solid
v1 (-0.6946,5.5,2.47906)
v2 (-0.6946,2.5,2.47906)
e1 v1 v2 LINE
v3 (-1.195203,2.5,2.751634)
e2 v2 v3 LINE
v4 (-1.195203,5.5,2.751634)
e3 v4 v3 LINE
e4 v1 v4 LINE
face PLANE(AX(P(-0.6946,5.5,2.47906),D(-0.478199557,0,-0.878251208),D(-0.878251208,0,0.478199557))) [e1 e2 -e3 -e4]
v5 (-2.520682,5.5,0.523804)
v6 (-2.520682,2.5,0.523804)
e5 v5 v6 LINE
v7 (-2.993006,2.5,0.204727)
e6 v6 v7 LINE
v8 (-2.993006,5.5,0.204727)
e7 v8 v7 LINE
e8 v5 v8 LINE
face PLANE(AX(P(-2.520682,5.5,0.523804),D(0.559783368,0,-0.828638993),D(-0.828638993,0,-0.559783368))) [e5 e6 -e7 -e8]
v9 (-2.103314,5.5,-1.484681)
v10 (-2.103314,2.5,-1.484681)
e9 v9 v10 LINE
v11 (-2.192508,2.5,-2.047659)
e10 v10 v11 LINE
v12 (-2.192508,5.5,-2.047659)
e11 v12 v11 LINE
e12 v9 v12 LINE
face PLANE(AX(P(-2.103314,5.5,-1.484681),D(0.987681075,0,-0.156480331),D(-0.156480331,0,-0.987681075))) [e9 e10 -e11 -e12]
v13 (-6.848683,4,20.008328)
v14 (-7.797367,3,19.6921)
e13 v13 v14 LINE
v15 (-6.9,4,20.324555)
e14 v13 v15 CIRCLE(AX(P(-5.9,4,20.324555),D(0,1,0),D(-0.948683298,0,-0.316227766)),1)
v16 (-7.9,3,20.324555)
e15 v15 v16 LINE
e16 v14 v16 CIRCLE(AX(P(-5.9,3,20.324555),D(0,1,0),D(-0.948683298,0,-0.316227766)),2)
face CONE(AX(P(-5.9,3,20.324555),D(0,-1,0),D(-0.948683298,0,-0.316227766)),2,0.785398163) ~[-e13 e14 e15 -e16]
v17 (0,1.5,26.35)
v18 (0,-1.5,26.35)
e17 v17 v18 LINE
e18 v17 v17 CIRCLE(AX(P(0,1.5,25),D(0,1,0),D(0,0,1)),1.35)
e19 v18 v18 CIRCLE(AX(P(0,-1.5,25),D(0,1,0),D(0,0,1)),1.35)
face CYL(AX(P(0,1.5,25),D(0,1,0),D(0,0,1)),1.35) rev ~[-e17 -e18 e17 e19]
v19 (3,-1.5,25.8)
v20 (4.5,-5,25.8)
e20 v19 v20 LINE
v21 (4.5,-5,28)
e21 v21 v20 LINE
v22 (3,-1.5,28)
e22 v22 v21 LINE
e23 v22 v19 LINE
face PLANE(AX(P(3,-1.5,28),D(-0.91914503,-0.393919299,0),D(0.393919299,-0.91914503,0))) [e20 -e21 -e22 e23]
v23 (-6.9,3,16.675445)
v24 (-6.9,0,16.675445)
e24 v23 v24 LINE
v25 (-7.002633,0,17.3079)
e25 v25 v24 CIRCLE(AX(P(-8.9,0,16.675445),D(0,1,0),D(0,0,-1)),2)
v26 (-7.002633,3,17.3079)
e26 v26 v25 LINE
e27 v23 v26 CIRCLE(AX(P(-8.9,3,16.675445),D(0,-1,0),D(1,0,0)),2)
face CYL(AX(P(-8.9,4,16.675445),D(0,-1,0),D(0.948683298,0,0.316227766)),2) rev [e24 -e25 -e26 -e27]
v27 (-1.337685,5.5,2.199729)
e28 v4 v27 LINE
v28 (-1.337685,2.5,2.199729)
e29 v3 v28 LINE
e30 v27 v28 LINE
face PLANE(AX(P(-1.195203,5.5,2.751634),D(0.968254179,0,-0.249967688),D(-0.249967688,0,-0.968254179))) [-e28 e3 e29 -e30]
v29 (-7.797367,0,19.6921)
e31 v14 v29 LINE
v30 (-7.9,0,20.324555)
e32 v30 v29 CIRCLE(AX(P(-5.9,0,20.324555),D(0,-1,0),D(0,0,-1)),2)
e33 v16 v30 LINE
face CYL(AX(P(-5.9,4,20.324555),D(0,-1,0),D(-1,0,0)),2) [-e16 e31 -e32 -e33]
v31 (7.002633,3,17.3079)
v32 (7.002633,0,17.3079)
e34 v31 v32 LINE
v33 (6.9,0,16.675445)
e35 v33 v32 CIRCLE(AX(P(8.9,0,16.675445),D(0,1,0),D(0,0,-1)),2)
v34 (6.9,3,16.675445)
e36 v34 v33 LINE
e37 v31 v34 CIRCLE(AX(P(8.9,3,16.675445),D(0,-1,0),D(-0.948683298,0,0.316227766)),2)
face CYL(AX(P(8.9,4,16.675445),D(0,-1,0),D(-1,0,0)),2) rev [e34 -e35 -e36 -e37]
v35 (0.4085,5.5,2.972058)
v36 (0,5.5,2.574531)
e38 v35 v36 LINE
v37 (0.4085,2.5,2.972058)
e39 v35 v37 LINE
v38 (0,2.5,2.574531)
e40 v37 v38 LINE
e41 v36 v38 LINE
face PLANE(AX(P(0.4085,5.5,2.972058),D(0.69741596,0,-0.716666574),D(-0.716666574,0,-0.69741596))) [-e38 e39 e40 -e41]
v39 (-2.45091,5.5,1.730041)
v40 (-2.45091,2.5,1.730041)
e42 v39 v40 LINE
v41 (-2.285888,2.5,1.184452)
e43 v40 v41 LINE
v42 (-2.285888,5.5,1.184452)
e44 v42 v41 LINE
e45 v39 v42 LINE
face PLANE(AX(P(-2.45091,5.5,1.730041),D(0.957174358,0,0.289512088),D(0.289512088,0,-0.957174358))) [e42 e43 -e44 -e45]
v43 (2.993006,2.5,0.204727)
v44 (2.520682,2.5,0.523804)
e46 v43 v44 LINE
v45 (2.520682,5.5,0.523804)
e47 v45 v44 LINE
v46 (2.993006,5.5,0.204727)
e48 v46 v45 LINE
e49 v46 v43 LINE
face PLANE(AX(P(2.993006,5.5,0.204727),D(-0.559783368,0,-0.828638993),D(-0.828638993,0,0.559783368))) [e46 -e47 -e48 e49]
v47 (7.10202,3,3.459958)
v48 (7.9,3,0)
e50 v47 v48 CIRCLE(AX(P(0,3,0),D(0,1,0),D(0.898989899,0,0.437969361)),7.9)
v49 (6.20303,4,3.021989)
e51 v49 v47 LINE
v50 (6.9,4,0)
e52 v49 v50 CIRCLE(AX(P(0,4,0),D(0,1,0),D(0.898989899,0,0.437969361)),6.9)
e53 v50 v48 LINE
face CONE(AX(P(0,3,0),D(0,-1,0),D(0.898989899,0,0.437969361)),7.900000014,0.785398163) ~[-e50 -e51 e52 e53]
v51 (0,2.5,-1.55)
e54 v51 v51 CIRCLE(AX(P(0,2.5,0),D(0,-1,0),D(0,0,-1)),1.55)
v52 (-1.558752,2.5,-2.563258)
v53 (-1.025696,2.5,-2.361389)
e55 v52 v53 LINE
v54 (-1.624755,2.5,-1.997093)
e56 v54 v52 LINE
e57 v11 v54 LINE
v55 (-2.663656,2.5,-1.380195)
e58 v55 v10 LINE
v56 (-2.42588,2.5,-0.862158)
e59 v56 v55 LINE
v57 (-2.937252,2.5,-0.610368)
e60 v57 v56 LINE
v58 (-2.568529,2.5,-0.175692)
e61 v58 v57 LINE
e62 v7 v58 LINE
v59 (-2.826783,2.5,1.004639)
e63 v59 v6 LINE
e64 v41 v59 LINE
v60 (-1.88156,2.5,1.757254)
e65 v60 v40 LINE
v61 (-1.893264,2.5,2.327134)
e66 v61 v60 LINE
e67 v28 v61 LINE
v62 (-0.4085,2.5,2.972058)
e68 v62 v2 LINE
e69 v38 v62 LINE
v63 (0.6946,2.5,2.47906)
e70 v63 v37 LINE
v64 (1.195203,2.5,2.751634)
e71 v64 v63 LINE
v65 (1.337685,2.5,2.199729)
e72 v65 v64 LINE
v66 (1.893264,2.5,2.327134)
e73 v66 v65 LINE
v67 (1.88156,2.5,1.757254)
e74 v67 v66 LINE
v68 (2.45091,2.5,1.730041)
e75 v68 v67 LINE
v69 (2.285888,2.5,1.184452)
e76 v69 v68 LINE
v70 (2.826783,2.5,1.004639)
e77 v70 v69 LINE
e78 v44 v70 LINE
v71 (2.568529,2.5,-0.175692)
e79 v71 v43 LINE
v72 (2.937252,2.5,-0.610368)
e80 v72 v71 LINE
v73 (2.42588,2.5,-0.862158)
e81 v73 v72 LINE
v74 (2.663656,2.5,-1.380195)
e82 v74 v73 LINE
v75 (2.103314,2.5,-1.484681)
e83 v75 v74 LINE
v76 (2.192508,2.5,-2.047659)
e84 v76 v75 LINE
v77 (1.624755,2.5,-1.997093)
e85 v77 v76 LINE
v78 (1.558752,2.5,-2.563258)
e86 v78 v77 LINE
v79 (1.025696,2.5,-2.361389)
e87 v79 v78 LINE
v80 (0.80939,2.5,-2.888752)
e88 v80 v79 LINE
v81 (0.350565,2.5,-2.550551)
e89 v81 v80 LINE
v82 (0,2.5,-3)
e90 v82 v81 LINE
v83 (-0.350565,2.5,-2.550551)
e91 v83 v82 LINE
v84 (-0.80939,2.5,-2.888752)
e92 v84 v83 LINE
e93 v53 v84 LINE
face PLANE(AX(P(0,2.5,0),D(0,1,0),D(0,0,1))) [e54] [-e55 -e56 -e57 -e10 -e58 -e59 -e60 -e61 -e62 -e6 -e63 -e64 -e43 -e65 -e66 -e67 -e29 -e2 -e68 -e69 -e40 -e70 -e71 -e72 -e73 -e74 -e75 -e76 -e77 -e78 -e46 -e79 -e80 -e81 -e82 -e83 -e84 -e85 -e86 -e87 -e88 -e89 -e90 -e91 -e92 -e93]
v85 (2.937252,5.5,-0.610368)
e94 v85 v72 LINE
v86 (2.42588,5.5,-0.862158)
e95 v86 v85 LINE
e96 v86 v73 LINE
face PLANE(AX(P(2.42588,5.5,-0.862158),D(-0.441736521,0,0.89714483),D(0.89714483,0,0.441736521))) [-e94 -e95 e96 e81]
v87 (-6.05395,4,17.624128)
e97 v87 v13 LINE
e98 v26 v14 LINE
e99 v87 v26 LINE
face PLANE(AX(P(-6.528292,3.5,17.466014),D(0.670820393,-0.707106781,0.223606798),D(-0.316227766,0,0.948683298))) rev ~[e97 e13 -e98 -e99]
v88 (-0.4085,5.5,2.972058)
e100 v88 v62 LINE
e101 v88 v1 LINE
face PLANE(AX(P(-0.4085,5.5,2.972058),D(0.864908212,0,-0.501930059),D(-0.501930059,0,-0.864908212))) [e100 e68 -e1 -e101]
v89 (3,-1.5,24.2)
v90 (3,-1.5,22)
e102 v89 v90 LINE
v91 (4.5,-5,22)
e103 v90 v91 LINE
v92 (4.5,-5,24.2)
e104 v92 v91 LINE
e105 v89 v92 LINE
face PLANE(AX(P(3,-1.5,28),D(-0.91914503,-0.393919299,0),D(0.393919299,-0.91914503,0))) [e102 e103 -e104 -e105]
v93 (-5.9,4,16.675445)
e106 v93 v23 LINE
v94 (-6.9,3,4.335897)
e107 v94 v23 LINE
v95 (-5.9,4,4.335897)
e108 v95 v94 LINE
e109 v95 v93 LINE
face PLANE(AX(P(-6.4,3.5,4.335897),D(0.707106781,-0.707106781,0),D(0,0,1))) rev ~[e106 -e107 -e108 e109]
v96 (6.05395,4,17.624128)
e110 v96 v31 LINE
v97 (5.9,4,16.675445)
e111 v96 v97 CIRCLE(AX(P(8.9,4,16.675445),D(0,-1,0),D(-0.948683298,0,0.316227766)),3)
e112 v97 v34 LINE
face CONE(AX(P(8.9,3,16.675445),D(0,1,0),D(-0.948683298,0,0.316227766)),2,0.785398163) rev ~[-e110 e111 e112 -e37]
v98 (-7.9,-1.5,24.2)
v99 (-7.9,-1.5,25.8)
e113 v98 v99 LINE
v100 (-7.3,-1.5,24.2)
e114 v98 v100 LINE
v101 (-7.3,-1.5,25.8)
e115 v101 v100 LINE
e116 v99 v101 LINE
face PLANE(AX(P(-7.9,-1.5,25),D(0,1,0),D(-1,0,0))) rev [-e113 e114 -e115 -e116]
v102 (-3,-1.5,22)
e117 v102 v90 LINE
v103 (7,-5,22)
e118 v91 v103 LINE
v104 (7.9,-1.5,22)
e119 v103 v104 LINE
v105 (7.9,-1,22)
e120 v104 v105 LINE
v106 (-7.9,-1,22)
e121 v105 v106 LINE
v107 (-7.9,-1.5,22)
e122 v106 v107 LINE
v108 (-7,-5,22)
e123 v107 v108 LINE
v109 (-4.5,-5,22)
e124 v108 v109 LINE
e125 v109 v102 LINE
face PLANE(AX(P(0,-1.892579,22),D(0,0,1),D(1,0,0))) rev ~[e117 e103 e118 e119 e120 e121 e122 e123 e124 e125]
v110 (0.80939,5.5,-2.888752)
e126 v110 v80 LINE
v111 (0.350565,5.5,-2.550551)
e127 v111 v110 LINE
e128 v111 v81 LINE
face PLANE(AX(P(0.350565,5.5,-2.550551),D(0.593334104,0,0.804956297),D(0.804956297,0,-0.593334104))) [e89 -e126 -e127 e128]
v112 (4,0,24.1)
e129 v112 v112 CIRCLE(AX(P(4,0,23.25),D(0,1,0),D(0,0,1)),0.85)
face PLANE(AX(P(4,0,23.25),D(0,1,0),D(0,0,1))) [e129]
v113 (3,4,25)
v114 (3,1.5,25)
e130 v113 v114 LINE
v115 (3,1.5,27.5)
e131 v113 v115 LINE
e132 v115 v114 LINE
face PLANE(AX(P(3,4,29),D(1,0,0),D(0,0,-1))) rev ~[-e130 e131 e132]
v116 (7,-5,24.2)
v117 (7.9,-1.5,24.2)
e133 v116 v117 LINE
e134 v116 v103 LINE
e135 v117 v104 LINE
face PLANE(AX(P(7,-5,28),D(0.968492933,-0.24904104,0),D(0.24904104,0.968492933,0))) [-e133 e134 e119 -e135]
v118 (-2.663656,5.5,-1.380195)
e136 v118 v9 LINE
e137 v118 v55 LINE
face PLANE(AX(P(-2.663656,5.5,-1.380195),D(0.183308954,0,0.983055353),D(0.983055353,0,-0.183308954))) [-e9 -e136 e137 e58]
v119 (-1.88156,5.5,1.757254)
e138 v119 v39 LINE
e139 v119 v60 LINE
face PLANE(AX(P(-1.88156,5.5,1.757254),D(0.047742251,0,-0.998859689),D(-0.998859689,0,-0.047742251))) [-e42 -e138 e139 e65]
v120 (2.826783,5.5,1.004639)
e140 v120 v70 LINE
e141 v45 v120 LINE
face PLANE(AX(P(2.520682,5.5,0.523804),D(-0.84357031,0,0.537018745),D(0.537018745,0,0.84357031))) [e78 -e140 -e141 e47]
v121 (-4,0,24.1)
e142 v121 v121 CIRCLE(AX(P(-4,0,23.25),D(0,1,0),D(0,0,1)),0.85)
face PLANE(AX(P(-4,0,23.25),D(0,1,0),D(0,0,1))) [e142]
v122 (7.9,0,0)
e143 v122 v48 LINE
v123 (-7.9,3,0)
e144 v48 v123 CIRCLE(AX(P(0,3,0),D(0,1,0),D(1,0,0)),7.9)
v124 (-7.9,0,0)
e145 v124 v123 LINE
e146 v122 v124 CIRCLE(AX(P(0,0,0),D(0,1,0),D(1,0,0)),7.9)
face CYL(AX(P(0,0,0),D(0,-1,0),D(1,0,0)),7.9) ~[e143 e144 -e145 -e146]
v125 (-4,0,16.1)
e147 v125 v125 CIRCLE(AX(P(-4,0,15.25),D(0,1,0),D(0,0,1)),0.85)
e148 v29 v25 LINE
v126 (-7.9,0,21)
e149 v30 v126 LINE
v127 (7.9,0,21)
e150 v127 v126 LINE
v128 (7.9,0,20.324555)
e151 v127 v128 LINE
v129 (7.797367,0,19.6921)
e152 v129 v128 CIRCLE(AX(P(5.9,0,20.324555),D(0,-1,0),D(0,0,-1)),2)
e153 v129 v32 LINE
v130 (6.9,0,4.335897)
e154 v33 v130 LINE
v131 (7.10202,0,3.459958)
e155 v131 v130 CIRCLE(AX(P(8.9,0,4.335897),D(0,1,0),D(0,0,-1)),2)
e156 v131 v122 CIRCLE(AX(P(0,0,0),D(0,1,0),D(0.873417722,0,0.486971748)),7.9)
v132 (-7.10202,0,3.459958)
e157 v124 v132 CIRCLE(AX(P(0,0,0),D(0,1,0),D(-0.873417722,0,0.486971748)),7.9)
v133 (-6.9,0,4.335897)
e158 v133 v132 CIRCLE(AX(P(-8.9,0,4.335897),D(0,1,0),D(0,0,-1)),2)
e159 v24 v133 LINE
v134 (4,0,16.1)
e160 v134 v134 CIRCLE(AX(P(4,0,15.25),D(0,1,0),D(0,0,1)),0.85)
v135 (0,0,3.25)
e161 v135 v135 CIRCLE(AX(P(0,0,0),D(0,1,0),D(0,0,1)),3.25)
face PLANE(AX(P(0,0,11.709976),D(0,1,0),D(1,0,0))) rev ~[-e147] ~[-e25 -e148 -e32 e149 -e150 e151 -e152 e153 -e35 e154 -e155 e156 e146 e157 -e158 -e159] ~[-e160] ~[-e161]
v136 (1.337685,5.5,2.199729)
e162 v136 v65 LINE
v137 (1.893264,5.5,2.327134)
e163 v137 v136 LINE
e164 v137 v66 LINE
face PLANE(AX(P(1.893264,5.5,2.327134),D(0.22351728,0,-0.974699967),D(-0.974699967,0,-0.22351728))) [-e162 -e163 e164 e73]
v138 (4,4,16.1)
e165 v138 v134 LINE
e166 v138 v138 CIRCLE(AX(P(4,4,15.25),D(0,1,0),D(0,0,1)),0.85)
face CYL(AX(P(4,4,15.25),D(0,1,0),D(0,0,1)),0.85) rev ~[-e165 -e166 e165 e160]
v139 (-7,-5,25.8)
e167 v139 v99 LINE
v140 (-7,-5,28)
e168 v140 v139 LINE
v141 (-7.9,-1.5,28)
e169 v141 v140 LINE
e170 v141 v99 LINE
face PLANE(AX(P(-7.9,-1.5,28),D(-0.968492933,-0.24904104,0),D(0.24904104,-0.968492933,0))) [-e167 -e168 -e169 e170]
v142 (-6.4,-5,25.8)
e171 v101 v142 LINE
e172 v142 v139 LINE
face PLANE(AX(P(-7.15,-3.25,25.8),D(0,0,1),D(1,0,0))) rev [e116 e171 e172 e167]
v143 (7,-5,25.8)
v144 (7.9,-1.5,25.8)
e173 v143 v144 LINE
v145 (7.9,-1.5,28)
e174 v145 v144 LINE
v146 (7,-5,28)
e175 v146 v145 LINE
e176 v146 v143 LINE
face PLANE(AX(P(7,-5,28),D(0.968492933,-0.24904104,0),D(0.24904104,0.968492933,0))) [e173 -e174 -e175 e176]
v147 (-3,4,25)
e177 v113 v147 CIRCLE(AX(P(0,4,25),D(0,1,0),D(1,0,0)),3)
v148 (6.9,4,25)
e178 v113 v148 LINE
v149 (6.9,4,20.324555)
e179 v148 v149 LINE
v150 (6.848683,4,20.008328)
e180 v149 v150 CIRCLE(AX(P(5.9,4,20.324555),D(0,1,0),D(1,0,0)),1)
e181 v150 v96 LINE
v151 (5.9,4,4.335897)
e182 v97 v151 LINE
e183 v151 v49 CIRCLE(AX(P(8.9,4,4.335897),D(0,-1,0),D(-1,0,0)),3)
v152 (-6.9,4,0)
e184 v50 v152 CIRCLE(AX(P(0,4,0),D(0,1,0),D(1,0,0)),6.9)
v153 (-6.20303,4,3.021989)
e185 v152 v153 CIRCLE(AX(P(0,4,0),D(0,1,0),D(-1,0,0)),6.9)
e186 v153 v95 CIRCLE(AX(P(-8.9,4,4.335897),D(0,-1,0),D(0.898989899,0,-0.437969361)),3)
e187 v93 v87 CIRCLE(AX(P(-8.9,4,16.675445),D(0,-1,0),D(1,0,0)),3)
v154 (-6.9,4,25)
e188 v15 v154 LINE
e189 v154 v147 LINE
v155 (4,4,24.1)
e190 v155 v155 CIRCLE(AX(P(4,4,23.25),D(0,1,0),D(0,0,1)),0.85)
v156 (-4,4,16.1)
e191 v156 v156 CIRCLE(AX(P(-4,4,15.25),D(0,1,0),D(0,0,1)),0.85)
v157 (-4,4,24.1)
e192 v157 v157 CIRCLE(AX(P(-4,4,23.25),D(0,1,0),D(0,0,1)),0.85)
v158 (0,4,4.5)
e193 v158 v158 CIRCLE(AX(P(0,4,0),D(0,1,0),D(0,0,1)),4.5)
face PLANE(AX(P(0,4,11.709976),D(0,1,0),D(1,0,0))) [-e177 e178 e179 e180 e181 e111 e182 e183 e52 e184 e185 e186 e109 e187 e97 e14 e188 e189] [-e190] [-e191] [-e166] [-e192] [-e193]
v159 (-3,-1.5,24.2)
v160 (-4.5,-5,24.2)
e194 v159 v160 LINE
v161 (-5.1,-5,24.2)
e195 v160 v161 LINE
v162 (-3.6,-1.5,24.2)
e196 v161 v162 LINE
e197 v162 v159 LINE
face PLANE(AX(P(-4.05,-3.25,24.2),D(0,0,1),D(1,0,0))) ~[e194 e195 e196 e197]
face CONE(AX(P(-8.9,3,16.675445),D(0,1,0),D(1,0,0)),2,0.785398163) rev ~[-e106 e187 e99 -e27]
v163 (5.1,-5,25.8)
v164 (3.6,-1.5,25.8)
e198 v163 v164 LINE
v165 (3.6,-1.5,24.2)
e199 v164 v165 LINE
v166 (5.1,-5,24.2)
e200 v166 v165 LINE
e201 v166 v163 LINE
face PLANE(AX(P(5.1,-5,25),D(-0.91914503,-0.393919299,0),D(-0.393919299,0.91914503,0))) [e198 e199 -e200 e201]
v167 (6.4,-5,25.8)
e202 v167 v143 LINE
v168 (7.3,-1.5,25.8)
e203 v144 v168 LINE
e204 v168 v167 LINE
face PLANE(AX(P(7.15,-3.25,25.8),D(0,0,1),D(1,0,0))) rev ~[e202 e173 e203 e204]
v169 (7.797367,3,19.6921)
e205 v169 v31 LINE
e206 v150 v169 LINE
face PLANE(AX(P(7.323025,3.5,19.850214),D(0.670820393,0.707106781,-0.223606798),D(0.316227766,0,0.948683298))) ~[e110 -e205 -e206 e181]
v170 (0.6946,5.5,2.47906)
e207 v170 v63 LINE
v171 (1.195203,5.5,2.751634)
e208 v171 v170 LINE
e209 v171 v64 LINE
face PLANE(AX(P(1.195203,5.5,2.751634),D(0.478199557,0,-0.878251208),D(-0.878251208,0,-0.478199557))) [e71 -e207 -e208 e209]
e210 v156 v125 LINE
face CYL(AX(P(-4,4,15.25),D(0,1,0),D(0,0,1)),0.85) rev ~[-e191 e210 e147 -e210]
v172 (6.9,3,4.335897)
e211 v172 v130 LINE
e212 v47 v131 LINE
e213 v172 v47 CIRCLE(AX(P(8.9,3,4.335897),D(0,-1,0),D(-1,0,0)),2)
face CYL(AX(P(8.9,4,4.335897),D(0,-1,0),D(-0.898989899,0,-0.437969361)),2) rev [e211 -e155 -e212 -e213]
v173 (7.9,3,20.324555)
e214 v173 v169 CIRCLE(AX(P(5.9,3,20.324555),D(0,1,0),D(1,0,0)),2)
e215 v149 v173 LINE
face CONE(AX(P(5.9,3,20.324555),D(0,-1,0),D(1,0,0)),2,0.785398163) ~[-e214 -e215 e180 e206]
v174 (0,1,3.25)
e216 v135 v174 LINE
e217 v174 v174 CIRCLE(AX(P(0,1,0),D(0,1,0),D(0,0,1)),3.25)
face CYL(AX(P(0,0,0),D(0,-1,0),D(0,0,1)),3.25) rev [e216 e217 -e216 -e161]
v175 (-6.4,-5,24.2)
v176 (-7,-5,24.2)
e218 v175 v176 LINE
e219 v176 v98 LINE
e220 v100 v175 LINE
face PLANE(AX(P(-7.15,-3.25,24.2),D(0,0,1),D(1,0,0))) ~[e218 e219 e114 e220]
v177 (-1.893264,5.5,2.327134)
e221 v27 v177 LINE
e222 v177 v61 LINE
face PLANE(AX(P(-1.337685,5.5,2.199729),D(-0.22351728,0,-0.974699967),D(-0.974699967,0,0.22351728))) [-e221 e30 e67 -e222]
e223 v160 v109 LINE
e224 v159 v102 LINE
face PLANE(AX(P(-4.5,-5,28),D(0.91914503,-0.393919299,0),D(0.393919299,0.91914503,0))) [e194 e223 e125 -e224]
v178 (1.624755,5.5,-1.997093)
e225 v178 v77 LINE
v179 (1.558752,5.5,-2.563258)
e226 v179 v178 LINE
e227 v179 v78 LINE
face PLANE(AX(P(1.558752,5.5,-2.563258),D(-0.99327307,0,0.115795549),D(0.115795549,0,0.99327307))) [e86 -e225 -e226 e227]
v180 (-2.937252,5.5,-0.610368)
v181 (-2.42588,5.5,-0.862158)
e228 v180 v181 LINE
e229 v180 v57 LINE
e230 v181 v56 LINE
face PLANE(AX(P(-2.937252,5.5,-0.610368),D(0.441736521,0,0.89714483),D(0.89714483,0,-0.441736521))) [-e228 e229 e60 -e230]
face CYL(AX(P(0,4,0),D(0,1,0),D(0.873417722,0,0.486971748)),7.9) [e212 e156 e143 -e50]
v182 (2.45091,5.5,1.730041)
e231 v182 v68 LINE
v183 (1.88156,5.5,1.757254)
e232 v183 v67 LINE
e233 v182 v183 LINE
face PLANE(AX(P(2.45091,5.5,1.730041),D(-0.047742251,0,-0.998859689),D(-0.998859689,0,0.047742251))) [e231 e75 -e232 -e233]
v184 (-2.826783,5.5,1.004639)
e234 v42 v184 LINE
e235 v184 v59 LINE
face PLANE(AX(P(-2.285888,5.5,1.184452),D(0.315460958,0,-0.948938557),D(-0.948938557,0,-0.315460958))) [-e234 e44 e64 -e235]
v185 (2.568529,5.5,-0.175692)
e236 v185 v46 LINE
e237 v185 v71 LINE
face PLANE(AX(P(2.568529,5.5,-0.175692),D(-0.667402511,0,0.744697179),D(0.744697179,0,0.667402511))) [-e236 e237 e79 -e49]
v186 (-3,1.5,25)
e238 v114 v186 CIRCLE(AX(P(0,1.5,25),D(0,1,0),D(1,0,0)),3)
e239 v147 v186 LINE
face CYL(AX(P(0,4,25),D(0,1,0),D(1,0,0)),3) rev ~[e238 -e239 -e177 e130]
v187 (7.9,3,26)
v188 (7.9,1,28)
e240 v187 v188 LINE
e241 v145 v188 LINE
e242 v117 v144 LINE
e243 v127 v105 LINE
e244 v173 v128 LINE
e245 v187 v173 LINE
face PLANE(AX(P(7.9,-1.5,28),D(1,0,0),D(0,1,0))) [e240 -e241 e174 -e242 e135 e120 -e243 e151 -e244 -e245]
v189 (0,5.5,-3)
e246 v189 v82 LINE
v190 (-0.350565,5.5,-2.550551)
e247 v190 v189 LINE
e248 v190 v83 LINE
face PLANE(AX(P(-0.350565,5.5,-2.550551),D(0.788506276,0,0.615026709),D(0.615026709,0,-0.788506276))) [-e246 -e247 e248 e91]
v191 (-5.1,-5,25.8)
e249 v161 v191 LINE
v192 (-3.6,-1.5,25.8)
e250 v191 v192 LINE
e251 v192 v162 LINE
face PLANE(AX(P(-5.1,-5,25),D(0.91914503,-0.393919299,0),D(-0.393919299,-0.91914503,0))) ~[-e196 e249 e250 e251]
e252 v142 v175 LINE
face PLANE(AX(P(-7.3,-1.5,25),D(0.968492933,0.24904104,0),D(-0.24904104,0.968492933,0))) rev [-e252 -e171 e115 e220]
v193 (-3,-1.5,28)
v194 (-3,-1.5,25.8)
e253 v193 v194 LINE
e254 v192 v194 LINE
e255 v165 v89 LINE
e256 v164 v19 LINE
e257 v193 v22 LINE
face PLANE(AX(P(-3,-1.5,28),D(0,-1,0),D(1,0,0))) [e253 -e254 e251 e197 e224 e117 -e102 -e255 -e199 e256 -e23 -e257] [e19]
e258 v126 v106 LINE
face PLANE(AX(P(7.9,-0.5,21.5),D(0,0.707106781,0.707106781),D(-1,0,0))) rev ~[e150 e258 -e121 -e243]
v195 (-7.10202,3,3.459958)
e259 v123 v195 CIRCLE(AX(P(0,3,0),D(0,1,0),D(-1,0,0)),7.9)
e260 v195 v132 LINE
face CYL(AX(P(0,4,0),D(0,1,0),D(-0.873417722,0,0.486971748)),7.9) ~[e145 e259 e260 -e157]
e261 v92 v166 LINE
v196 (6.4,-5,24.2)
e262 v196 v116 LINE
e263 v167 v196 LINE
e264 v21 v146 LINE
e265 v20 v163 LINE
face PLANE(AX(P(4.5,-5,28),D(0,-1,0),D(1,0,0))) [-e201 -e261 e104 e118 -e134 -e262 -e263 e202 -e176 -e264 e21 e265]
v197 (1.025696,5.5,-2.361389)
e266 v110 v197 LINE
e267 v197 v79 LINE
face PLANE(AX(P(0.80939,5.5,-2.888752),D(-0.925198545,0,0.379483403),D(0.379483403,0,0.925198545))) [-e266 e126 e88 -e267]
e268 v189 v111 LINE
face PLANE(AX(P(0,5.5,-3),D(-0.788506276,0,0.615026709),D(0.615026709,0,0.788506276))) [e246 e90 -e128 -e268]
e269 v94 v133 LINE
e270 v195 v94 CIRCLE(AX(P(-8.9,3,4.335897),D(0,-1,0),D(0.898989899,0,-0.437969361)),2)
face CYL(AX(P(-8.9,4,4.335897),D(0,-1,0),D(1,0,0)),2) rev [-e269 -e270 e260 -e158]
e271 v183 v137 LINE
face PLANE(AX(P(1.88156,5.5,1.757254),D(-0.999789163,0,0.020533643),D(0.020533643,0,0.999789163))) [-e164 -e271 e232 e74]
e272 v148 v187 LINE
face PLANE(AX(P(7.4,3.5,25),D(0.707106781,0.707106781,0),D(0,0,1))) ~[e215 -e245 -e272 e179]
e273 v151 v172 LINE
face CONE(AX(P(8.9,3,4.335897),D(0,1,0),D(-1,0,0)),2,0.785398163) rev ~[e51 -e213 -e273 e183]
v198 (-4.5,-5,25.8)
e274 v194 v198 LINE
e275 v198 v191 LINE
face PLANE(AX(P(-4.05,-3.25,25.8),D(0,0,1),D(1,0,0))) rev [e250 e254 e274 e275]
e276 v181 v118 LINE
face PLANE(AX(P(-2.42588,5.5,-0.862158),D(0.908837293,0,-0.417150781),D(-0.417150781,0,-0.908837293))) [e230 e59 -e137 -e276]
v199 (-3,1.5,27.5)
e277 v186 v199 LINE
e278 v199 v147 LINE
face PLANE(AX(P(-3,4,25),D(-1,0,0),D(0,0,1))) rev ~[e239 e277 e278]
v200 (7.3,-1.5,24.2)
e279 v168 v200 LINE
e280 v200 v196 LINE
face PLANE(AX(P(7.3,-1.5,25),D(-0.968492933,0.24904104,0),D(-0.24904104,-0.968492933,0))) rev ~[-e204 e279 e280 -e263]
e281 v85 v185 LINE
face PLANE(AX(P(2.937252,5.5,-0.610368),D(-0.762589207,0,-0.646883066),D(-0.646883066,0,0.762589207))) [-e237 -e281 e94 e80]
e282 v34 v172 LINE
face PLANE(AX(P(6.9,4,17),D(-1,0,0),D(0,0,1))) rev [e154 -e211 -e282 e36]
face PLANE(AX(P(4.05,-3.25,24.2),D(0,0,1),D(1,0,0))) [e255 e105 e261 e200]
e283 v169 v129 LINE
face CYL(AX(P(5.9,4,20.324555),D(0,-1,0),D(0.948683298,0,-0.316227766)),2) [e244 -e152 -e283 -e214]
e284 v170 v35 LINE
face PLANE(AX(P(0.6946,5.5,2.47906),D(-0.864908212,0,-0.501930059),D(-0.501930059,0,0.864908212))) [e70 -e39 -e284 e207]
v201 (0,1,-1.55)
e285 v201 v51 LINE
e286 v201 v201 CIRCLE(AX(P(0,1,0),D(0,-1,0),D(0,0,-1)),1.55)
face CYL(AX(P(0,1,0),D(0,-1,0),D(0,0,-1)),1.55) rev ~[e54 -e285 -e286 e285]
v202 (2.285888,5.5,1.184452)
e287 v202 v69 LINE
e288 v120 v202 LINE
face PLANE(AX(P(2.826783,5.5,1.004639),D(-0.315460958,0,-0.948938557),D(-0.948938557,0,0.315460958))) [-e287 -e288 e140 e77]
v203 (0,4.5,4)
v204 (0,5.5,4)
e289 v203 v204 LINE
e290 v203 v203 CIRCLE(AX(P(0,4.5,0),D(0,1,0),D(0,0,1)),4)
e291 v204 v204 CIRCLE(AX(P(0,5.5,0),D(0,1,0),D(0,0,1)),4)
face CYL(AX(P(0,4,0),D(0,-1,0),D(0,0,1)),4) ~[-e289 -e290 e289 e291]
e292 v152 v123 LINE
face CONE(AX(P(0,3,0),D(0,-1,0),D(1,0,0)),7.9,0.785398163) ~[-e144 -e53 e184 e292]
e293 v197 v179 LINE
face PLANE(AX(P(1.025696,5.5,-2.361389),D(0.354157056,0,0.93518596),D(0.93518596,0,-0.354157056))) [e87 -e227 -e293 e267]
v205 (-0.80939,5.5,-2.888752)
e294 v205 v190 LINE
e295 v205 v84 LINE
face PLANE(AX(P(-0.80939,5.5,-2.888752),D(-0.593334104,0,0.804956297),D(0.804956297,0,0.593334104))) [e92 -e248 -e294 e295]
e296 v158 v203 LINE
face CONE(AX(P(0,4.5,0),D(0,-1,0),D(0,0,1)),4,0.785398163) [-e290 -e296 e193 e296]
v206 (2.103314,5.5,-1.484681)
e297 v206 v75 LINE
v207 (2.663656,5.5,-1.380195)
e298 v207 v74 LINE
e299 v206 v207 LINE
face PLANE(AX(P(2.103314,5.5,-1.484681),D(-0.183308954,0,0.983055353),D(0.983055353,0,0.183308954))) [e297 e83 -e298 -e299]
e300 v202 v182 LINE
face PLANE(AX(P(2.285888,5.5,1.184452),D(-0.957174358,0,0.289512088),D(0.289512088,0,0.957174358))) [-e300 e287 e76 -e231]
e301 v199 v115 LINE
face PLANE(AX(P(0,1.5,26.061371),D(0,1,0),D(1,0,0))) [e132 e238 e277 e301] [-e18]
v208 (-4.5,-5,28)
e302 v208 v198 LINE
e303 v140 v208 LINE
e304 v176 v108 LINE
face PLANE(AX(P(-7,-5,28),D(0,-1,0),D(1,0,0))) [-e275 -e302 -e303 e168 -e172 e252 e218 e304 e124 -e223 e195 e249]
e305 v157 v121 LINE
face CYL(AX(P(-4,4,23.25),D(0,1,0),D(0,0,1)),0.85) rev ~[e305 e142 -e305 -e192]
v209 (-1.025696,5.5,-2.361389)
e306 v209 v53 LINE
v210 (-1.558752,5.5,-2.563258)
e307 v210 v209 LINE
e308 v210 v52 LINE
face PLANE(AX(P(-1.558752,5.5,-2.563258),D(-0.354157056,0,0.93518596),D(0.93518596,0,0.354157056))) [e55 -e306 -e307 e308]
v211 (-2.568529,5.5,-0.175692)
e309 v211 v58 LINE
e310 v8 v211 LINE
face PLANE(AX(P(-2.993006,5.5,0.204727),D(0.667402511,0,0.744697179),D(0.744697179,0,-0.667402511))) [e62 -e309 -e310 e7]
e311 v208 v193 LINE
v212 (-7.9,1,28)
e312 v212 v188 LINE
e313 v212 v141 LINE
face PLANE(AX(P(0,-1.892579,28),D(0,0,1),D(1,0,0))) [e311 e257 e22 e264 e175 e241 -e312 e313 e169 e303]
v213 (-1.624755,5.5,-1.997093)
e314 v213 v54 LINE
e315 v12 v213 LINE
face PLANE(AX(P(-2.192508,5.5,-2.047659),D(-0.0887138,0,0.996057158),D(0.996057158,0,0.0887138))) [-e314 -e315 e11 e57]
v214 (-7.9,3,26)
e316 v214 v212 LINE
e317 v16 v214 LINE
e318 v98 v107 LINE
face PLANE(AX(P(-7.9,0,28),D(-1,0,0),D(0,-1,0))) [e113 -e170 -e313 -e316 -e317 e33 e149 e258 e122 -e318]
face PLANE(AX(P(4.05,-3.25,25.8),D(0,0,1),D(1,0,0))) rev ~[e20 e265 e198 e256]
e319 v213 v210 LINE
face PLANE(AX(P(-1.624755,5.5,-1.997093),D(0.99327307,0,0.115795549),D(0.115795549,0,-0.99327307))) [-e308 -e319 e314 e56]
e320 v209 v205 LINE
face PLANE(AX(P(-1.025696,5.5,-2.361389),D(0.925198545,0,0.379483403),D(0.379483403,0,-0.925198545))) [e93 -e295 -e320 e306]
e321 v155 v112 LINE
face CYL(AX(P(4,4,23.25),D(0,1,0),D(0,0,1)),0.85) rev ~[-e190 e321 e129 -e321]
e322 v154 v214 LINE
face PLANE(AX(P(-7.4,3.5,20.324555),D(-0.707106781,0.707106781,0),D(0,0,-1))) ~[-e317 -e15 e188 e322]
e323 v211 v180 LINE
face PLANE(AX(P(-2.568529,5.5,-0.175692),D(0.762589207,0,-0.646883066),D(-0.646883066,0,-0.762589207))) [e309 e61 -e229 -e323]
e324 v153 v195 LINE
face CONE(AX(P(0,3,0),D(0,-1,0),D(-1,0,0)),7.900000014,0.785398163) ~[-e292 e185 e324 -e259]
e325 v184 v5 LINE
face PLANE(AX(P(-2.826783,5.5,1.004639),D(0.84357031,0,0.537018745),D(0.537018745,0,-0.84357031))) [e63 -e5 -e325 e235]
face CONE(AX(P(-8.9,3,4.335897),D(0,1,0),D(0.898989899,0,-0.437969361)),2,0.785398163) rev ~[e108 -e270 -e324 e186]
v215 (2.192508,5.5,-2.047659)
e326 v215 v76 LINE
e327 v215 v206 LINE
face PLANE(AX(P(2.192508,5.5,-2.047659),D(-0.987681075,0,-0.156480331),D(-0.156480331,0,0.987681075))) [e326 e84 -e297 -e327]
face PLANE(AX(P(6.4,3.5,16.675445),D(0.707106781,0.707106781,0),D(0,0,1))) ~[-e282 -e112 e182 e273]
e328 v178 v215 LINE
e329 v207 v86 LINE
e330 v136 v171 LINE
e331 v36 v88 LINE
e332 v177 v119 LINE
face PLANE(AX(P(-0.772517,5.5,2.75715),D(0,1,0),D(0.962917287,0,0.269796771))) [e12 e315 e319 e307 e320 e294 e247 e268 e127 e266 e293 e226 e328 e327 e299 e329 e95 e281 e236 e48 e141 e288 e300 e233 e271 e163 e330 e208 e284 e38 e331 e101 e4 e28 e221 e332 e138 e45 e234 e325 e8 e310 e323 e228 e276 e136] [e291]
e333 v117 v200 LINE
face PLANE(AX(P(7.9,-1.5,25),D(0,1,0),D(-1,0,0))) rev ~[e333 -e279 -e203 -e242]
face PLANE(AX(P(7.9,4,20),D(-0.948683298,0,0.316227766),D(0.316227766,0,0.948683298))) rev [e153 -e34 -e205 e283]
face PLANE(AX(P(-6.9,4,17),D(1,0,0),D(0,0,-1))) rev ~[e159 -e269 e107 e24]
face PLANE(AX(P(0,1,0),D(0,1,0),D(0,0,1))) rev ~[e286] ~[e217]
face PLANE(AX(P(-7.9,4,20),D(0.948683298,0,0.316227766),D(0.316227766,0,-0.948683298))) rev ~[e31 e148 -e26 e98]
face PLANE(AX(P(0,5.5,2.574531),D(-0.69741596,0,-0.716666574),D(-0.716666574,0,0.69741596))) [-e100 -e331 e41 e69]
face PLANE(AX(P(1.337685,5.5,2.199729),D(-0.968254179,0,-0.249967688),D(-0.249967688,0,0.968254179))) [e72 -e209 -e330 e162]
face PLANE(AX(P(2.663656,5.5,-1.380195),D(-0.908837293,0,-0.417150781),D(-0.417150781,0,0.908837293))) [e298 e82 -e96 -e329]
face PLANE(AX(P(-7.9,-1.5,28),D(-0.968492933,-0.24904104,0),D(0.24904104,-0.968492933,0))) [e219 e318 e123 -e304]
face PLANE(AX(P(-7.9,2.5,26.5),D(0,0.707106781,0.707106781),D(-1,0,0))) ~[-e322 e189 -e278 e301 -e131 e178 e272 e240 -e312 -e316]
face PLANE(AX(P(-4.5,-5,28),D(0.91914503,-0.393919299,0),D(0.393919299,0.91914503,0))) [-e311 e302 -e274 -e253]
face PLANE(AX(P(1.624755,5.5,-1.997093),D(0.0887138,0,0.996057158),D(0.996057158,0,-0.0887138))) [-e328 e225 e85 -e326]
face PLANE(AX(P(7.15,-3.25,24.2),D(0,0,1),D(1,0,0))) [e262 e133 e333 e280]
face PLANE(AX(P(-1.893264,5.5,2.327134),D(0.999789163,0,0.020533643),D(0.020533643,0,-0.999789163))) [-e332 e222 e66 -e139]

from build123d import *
from build123d.topology import SkipClean

# Parameters (mm, degrees)
EXTRUDE_1_DEPTH          = 4
EXTRUDE_3_DEPTH          = 6
CHAMFER_1_SIZE           = 3
SKETCH_5_R               = 0.85
CUT_EXTRUDE_1_DEPTH      = 4
PATTERN_LINEAR_1_COUNT   = 2
PATTERN_LINEAR_1_PITCH   = 8
CUT_EXTRUDE_2_DEPTH      = 2.5
CUT_EXTRUDE_3_REACH      = 31.81
SKETCH_7_R               = 1.35
SKETCH_9_R               = 3.25
CUT_EXTRUDE_4_DEPTH      = 1
SKETCH_10_R              = 4
EXTRUDE_4_DEPTH          = 1.5
CHAMFER_3_SIZE           = 0.5
SKETCH_11_R              = 3
CUT_EXTRUDE_5_DEPTH      = 3
SKETCH_12_R              = 1.55
CUT_EXTRUDE_6_DEPTH      = 30.705386717
EXTRUDE_5_DEPTH          = 3
PATTERN_CIRCULAR_1_COUNT = 23
CUT_EXTRUDE_7_DEPTH      = 0.8
CUT_EXTRUDE_8_DEPTH      = 31.453407034
FILLET_1_R               = 2
CHAMFER_2_SIZE           = 1


with BuildPart() as part:
    # ｽｹｯﾁ1 → ﾎﾞｽ - 押し出し1 (new body)
    with BuildSketch(Plane(origin=(0, 0, 0), x_dir=(1, 0, 0), z_dir=(0, 1, 0))):
        with BuildLine():
            Line((-7.9, 0), (-7.9, -28))
            Line((-7.9, -28), (7.9, -28))
            Line((7.9, -28), (7.9, 0))
            ThreePointArc((7.9, 0), (0, 7.9), (-7.9, 0))
        make_face()
    extrude(amount=EXTRUDE_1_DEPTH)

    # ｽｹｯﾁ4 → ﾎﾞｽ - 押し出し3 (add)
    with BuildSketch(Plane.XY.offset(28)):
        Polygon((-7, -5), (-4.5, -5), (-3, -1.5), (3, -1.5), (4.5, -5), (7, -5), (7.9, -1.5), (7.9, 0), (-7.9, 0), (-7.9, -1.5), align=None)
    extrude(amount=-EXTRUDE_3_DEPTH)

    # 面取り1
    chamfer_1_edges = [part.edges().sort_by_distance(p)[0] for p in [
        (0, 4, 28),
    ]]
    chamfer(chamfer_1_edges, length=CHAMFER_1_SIZE)

    # ｽｹｯﾁ5 → ｶｯﾄ - 押し出し1 (cut)
    with BuildSketch(Plane(origin=(0, 4, 0), x_dir=(1, 0, 0), z_dir=(0, 1, 0))):
        with Locations(Location((-4, -23.25, 0), (0, 0, 270))):
            Circle(SKETCH_5_R)
        with Locations(Location((4, -23.25, 0), (0, 0, 270))):
            Circle(SKETCH_5_R)
    cut_extrude_1 = extrude(amount=-CUT_EXTRUDE_1_DEPTH, mode=Mode.SUBTRACT)

    # 直線ﾊﾟﾀｰﾝ1: ｶｯﾄ - 押し出し1 ×2
    with Locations(*[(0, 0, -i * PATTERN_LINEAR_1_PITCH) for i in range(1, PATTERN_LINEAR_1_COUNT)]):
        add(cut_extrude_1, mode=Mode.SUBTRACT)

    # ｽｹｯﾁ6 → ｶｯﾄ - 押し出し2 (cut)
    with BuildSketch(Plane(origin=(0, 4, 0), x_dir=(1, 0, 0), z_dir=(0, 1, 0))):
        with BuildLine():
            Line((-3, -25), (-3, -29))
            Line((-3, -29), (3, -29))
            Line((3, -29), (3, -25))
            ThreePointArc((3, -25), (0, -22), (-3, -25))
        make_face()
    extrude(amount=-CUT_EXTRUDE_2_DEPTH, mode=Mode.SUBTRACT)

    # ｽｹｯﾁ7 → ｶｯﾄ - 押し出し3 (cut, up to next)
    with BuildSketch(Plane(origin=(0, 1.5, 0), x_dir=(1, 0, 0), z_dir=(0, 1, 0)), mode=Mode.PRIVATE) as cut_extrude_3_sk1:
        with Locations(Location((0, -25, 0), (0, 0, 270))):
            Circle(SKETCH_7_R)
    cut_extrude_3_tool1 = extrude(cut_extrude_3_sk1.sketch, amount=-CUT_EXTRUDE_3_REACH, mode=Mode.PRIVATE) & part.part
    add(cut_extrude_3_tool1.solids().sort_by_distance((0, 1.5, 25))[0], mode=Mode.SUBTRACT)

    # ｽｹｯﾁ9 → ｶｯﾄ - 押し出し4 (cut)
    with BuildSketch(Plane(origin=(0, 0, 0), x_dir=(1, 0, 0), z_dir=(0, 1, 0))):
        with Locations(Location((0, 0, 0), (0, 0, 270))):
            Circle(SKETCH_9_R)
    extrude(amount=CUT_EXTRUDE_4_DEPTH, mode=Mode.SUBTRACT)

    # ｽｹｯﾁ10 → ﾎﾞｽ - 押し出し4 (add)
    with BuildSketch(Plane(origin=(0, 4, 0), x_dir=(1, 0, 0), z_dir=(0, 1, 0))):
        with Locations(Location((0, 0, 0), (0, 0, 270))):
            Circle(SKETCH_10_R)
    extrude(amount=EXTRUDE_4_DEPTH)

    # 面取り3
    chamfer_3_edges = [part.edges().sort_by_distance(p)[0] for p in [
        (0, 4, -4),
    ]]
    chamfer(chamfer_3_edges, length=CHAMFER_3_SIZE)

    # ｽｹｯﾁ11 → ｶｯﾄ - 押し出し5 (cut)
    with BuildSketch(Plane(origin=(0, 5.5, 0), x_dir=(1, 0, 0), z_dir=(0, 1, 0))):
        with Locations(Location((0, 0, 0), (0, 0, 270))):
            Circle(SKETCH_11_R)
    extrude(amount=-CUT_EXTRUDE_5_DEPTH, mode=Mode.SUBTRACT)

    # ｽｹｯﾁ12 → ｶｯﾄ - 押し出し6 (cut, through all)
    with BuildSketch(Plane.XZ.offset(-1)):
        with Locations(Location((0, 0, 0), (0, 0, 270))):
            Circle(SKETCH_12_R)
    extrude(amount=-CUT_EXTRUDE_6_DEPTH, mode=Mode.SUBTRACT)

    # ｽｹｯﾁ13 → ﾎﾞｽ - 押し出し5 (add)
    with BuildSketch(Plane(origin=(0, 5.5, 0), x_dir=(1, 0, 0), z_dir=(0, 1, 0))):
        with BuildLine():
            Line((0.408499947, -2.972057838), (0, -2.574530741))
            Line((0, -2.574530741), (-0.408499947, -2.972057838))
            ThreePointArc((-0.408499947, -2.972057838), (0, -3), (0.408499947, -2.972057838))
        make_face()
    extrude_5 = extrude(amount=-EXTRUDE_5_DEPTH)

    # 円形ﾊﾟﾀｰﾝ1: ﾎﾞｽ - 押し出し5 ×23 about axis
    pattern_circular_1_axis = Axis((0, 0, 0), (0, 1, 0))
    for i in range(1, PATTERN_CIRCULAR_1_COUNT):
        add(extrude_5.rotate(pattern_circular_1_axis, i * 360 / PATTERN_CIRCULAR_1_COUNT))

    # ｽｹｯﾁ14 → ｶｯﾄ - 押し出し7 (cut, symmetric)
    with BuildSketch(Plane.XY.offset(25)):
        Polygon((3, -1.5), (4.5, -5), (5.1, -5), (3.6, -1.5), align=None)
        Polygon((6.4, -5), (7, -5), (7.9, -1.5), (7.3, -1.5), align=None)
    cut_extrude_7 = extrude(amount=CUT_EXTRUDE_7_DEPTH, both=True, mode=Mode.SUBTRACT)

    # ﾐﾗｰ1: ｶｯﾄ - 押し出し7 across plane
    add(cut_extrude_7.mirror(Plane(origin=(0, 0, 0), x_dir=(0, 0, 1), z_dir=(1, 0, 0))), mode=Mode.SUBTRACT)

    # ｽｹｯﾁ15 → ｶｯﾄ - 押し出し8 (cut, through all)
    with SkipClean():  # the faces are left unmerged after this step: merging them gives an invalid solid
        with BuildSketch(Plane(origin=(0, 4, 0), x_dir=(1, 0, 0), z_dir=(0, 1, 0))):
            with BuildLine():
                Line((-7.9, 0), (-7.9, -20))
                Line((-7.9, -20), (-6.9, -17))
                Line((-6.9, -17), (-6.9, -3.847076812))
                ThreePointArc((-6.9, -3.847076812), (-7.645913941, -1.987460691), (-7.9, 0))
            make_face()
        cut_extrude_8 = extrude(amount=-CUT_EXTRUDE_8_DEPTH, mode=Mode.SUBTRACT)

    # ﾐﾗｰ2: ｶｯﾄ - 押し出し8 across plane
    with SkipClean():  # the faces are left unmerged after this step: merging them gives an invalid solid
        add(cut_extrude_8.mirror(Plane(origin=(0, 0, 0), x_dir=(0, 0, 1), z_dir=(1, 0, 0))), mode=Mode.SUBTRACT)

    # ﾌｨﾚｯﾄ1
    fillet_1_edges = [part.edges().sort_by_distance(p)[0] for p in [
        (-6.9, 2, 3.847076812),
        (-6.9, 2, 17),
        (-7.9, 2, 20),
        (6.9, 2, 3.847076812),
        (7.9, 2, 20),
        (6.9, 2, 17),
    ]]
    fillet(fillet_1_edges, radius=FILLET_1_R)

    # 面取り2
    chamfer_2_edges = [part.edges().sort_by_distance(p)[0] for p in [
        (-7.9, 4, 22.66227766),
        (0, 4, -7.9),
        (7.9, 4, 22.66227766),
        (0, 0, 22),
        (-7.874174915, 4, 20.004190834),
        (-7.4, 4, 18.5),
        (-6.925825085, 4, 16.995809166),
        (-6.9, 4, 10.505670679),
        (-6.951159371, 4, 3.886430103),
        (6.951159371, 4, 3.886430103),
        (6.9, 4, 10.505670679),
        (6.925825085, 4, 16.995809166),
        (7.4, 4, 18.5),
        (7.874174915, 4, 20.004190834),
    ]]
    chamfer(chamfer_2_edges, length=CHAMFER_2_SIZE)


solid = part.part
